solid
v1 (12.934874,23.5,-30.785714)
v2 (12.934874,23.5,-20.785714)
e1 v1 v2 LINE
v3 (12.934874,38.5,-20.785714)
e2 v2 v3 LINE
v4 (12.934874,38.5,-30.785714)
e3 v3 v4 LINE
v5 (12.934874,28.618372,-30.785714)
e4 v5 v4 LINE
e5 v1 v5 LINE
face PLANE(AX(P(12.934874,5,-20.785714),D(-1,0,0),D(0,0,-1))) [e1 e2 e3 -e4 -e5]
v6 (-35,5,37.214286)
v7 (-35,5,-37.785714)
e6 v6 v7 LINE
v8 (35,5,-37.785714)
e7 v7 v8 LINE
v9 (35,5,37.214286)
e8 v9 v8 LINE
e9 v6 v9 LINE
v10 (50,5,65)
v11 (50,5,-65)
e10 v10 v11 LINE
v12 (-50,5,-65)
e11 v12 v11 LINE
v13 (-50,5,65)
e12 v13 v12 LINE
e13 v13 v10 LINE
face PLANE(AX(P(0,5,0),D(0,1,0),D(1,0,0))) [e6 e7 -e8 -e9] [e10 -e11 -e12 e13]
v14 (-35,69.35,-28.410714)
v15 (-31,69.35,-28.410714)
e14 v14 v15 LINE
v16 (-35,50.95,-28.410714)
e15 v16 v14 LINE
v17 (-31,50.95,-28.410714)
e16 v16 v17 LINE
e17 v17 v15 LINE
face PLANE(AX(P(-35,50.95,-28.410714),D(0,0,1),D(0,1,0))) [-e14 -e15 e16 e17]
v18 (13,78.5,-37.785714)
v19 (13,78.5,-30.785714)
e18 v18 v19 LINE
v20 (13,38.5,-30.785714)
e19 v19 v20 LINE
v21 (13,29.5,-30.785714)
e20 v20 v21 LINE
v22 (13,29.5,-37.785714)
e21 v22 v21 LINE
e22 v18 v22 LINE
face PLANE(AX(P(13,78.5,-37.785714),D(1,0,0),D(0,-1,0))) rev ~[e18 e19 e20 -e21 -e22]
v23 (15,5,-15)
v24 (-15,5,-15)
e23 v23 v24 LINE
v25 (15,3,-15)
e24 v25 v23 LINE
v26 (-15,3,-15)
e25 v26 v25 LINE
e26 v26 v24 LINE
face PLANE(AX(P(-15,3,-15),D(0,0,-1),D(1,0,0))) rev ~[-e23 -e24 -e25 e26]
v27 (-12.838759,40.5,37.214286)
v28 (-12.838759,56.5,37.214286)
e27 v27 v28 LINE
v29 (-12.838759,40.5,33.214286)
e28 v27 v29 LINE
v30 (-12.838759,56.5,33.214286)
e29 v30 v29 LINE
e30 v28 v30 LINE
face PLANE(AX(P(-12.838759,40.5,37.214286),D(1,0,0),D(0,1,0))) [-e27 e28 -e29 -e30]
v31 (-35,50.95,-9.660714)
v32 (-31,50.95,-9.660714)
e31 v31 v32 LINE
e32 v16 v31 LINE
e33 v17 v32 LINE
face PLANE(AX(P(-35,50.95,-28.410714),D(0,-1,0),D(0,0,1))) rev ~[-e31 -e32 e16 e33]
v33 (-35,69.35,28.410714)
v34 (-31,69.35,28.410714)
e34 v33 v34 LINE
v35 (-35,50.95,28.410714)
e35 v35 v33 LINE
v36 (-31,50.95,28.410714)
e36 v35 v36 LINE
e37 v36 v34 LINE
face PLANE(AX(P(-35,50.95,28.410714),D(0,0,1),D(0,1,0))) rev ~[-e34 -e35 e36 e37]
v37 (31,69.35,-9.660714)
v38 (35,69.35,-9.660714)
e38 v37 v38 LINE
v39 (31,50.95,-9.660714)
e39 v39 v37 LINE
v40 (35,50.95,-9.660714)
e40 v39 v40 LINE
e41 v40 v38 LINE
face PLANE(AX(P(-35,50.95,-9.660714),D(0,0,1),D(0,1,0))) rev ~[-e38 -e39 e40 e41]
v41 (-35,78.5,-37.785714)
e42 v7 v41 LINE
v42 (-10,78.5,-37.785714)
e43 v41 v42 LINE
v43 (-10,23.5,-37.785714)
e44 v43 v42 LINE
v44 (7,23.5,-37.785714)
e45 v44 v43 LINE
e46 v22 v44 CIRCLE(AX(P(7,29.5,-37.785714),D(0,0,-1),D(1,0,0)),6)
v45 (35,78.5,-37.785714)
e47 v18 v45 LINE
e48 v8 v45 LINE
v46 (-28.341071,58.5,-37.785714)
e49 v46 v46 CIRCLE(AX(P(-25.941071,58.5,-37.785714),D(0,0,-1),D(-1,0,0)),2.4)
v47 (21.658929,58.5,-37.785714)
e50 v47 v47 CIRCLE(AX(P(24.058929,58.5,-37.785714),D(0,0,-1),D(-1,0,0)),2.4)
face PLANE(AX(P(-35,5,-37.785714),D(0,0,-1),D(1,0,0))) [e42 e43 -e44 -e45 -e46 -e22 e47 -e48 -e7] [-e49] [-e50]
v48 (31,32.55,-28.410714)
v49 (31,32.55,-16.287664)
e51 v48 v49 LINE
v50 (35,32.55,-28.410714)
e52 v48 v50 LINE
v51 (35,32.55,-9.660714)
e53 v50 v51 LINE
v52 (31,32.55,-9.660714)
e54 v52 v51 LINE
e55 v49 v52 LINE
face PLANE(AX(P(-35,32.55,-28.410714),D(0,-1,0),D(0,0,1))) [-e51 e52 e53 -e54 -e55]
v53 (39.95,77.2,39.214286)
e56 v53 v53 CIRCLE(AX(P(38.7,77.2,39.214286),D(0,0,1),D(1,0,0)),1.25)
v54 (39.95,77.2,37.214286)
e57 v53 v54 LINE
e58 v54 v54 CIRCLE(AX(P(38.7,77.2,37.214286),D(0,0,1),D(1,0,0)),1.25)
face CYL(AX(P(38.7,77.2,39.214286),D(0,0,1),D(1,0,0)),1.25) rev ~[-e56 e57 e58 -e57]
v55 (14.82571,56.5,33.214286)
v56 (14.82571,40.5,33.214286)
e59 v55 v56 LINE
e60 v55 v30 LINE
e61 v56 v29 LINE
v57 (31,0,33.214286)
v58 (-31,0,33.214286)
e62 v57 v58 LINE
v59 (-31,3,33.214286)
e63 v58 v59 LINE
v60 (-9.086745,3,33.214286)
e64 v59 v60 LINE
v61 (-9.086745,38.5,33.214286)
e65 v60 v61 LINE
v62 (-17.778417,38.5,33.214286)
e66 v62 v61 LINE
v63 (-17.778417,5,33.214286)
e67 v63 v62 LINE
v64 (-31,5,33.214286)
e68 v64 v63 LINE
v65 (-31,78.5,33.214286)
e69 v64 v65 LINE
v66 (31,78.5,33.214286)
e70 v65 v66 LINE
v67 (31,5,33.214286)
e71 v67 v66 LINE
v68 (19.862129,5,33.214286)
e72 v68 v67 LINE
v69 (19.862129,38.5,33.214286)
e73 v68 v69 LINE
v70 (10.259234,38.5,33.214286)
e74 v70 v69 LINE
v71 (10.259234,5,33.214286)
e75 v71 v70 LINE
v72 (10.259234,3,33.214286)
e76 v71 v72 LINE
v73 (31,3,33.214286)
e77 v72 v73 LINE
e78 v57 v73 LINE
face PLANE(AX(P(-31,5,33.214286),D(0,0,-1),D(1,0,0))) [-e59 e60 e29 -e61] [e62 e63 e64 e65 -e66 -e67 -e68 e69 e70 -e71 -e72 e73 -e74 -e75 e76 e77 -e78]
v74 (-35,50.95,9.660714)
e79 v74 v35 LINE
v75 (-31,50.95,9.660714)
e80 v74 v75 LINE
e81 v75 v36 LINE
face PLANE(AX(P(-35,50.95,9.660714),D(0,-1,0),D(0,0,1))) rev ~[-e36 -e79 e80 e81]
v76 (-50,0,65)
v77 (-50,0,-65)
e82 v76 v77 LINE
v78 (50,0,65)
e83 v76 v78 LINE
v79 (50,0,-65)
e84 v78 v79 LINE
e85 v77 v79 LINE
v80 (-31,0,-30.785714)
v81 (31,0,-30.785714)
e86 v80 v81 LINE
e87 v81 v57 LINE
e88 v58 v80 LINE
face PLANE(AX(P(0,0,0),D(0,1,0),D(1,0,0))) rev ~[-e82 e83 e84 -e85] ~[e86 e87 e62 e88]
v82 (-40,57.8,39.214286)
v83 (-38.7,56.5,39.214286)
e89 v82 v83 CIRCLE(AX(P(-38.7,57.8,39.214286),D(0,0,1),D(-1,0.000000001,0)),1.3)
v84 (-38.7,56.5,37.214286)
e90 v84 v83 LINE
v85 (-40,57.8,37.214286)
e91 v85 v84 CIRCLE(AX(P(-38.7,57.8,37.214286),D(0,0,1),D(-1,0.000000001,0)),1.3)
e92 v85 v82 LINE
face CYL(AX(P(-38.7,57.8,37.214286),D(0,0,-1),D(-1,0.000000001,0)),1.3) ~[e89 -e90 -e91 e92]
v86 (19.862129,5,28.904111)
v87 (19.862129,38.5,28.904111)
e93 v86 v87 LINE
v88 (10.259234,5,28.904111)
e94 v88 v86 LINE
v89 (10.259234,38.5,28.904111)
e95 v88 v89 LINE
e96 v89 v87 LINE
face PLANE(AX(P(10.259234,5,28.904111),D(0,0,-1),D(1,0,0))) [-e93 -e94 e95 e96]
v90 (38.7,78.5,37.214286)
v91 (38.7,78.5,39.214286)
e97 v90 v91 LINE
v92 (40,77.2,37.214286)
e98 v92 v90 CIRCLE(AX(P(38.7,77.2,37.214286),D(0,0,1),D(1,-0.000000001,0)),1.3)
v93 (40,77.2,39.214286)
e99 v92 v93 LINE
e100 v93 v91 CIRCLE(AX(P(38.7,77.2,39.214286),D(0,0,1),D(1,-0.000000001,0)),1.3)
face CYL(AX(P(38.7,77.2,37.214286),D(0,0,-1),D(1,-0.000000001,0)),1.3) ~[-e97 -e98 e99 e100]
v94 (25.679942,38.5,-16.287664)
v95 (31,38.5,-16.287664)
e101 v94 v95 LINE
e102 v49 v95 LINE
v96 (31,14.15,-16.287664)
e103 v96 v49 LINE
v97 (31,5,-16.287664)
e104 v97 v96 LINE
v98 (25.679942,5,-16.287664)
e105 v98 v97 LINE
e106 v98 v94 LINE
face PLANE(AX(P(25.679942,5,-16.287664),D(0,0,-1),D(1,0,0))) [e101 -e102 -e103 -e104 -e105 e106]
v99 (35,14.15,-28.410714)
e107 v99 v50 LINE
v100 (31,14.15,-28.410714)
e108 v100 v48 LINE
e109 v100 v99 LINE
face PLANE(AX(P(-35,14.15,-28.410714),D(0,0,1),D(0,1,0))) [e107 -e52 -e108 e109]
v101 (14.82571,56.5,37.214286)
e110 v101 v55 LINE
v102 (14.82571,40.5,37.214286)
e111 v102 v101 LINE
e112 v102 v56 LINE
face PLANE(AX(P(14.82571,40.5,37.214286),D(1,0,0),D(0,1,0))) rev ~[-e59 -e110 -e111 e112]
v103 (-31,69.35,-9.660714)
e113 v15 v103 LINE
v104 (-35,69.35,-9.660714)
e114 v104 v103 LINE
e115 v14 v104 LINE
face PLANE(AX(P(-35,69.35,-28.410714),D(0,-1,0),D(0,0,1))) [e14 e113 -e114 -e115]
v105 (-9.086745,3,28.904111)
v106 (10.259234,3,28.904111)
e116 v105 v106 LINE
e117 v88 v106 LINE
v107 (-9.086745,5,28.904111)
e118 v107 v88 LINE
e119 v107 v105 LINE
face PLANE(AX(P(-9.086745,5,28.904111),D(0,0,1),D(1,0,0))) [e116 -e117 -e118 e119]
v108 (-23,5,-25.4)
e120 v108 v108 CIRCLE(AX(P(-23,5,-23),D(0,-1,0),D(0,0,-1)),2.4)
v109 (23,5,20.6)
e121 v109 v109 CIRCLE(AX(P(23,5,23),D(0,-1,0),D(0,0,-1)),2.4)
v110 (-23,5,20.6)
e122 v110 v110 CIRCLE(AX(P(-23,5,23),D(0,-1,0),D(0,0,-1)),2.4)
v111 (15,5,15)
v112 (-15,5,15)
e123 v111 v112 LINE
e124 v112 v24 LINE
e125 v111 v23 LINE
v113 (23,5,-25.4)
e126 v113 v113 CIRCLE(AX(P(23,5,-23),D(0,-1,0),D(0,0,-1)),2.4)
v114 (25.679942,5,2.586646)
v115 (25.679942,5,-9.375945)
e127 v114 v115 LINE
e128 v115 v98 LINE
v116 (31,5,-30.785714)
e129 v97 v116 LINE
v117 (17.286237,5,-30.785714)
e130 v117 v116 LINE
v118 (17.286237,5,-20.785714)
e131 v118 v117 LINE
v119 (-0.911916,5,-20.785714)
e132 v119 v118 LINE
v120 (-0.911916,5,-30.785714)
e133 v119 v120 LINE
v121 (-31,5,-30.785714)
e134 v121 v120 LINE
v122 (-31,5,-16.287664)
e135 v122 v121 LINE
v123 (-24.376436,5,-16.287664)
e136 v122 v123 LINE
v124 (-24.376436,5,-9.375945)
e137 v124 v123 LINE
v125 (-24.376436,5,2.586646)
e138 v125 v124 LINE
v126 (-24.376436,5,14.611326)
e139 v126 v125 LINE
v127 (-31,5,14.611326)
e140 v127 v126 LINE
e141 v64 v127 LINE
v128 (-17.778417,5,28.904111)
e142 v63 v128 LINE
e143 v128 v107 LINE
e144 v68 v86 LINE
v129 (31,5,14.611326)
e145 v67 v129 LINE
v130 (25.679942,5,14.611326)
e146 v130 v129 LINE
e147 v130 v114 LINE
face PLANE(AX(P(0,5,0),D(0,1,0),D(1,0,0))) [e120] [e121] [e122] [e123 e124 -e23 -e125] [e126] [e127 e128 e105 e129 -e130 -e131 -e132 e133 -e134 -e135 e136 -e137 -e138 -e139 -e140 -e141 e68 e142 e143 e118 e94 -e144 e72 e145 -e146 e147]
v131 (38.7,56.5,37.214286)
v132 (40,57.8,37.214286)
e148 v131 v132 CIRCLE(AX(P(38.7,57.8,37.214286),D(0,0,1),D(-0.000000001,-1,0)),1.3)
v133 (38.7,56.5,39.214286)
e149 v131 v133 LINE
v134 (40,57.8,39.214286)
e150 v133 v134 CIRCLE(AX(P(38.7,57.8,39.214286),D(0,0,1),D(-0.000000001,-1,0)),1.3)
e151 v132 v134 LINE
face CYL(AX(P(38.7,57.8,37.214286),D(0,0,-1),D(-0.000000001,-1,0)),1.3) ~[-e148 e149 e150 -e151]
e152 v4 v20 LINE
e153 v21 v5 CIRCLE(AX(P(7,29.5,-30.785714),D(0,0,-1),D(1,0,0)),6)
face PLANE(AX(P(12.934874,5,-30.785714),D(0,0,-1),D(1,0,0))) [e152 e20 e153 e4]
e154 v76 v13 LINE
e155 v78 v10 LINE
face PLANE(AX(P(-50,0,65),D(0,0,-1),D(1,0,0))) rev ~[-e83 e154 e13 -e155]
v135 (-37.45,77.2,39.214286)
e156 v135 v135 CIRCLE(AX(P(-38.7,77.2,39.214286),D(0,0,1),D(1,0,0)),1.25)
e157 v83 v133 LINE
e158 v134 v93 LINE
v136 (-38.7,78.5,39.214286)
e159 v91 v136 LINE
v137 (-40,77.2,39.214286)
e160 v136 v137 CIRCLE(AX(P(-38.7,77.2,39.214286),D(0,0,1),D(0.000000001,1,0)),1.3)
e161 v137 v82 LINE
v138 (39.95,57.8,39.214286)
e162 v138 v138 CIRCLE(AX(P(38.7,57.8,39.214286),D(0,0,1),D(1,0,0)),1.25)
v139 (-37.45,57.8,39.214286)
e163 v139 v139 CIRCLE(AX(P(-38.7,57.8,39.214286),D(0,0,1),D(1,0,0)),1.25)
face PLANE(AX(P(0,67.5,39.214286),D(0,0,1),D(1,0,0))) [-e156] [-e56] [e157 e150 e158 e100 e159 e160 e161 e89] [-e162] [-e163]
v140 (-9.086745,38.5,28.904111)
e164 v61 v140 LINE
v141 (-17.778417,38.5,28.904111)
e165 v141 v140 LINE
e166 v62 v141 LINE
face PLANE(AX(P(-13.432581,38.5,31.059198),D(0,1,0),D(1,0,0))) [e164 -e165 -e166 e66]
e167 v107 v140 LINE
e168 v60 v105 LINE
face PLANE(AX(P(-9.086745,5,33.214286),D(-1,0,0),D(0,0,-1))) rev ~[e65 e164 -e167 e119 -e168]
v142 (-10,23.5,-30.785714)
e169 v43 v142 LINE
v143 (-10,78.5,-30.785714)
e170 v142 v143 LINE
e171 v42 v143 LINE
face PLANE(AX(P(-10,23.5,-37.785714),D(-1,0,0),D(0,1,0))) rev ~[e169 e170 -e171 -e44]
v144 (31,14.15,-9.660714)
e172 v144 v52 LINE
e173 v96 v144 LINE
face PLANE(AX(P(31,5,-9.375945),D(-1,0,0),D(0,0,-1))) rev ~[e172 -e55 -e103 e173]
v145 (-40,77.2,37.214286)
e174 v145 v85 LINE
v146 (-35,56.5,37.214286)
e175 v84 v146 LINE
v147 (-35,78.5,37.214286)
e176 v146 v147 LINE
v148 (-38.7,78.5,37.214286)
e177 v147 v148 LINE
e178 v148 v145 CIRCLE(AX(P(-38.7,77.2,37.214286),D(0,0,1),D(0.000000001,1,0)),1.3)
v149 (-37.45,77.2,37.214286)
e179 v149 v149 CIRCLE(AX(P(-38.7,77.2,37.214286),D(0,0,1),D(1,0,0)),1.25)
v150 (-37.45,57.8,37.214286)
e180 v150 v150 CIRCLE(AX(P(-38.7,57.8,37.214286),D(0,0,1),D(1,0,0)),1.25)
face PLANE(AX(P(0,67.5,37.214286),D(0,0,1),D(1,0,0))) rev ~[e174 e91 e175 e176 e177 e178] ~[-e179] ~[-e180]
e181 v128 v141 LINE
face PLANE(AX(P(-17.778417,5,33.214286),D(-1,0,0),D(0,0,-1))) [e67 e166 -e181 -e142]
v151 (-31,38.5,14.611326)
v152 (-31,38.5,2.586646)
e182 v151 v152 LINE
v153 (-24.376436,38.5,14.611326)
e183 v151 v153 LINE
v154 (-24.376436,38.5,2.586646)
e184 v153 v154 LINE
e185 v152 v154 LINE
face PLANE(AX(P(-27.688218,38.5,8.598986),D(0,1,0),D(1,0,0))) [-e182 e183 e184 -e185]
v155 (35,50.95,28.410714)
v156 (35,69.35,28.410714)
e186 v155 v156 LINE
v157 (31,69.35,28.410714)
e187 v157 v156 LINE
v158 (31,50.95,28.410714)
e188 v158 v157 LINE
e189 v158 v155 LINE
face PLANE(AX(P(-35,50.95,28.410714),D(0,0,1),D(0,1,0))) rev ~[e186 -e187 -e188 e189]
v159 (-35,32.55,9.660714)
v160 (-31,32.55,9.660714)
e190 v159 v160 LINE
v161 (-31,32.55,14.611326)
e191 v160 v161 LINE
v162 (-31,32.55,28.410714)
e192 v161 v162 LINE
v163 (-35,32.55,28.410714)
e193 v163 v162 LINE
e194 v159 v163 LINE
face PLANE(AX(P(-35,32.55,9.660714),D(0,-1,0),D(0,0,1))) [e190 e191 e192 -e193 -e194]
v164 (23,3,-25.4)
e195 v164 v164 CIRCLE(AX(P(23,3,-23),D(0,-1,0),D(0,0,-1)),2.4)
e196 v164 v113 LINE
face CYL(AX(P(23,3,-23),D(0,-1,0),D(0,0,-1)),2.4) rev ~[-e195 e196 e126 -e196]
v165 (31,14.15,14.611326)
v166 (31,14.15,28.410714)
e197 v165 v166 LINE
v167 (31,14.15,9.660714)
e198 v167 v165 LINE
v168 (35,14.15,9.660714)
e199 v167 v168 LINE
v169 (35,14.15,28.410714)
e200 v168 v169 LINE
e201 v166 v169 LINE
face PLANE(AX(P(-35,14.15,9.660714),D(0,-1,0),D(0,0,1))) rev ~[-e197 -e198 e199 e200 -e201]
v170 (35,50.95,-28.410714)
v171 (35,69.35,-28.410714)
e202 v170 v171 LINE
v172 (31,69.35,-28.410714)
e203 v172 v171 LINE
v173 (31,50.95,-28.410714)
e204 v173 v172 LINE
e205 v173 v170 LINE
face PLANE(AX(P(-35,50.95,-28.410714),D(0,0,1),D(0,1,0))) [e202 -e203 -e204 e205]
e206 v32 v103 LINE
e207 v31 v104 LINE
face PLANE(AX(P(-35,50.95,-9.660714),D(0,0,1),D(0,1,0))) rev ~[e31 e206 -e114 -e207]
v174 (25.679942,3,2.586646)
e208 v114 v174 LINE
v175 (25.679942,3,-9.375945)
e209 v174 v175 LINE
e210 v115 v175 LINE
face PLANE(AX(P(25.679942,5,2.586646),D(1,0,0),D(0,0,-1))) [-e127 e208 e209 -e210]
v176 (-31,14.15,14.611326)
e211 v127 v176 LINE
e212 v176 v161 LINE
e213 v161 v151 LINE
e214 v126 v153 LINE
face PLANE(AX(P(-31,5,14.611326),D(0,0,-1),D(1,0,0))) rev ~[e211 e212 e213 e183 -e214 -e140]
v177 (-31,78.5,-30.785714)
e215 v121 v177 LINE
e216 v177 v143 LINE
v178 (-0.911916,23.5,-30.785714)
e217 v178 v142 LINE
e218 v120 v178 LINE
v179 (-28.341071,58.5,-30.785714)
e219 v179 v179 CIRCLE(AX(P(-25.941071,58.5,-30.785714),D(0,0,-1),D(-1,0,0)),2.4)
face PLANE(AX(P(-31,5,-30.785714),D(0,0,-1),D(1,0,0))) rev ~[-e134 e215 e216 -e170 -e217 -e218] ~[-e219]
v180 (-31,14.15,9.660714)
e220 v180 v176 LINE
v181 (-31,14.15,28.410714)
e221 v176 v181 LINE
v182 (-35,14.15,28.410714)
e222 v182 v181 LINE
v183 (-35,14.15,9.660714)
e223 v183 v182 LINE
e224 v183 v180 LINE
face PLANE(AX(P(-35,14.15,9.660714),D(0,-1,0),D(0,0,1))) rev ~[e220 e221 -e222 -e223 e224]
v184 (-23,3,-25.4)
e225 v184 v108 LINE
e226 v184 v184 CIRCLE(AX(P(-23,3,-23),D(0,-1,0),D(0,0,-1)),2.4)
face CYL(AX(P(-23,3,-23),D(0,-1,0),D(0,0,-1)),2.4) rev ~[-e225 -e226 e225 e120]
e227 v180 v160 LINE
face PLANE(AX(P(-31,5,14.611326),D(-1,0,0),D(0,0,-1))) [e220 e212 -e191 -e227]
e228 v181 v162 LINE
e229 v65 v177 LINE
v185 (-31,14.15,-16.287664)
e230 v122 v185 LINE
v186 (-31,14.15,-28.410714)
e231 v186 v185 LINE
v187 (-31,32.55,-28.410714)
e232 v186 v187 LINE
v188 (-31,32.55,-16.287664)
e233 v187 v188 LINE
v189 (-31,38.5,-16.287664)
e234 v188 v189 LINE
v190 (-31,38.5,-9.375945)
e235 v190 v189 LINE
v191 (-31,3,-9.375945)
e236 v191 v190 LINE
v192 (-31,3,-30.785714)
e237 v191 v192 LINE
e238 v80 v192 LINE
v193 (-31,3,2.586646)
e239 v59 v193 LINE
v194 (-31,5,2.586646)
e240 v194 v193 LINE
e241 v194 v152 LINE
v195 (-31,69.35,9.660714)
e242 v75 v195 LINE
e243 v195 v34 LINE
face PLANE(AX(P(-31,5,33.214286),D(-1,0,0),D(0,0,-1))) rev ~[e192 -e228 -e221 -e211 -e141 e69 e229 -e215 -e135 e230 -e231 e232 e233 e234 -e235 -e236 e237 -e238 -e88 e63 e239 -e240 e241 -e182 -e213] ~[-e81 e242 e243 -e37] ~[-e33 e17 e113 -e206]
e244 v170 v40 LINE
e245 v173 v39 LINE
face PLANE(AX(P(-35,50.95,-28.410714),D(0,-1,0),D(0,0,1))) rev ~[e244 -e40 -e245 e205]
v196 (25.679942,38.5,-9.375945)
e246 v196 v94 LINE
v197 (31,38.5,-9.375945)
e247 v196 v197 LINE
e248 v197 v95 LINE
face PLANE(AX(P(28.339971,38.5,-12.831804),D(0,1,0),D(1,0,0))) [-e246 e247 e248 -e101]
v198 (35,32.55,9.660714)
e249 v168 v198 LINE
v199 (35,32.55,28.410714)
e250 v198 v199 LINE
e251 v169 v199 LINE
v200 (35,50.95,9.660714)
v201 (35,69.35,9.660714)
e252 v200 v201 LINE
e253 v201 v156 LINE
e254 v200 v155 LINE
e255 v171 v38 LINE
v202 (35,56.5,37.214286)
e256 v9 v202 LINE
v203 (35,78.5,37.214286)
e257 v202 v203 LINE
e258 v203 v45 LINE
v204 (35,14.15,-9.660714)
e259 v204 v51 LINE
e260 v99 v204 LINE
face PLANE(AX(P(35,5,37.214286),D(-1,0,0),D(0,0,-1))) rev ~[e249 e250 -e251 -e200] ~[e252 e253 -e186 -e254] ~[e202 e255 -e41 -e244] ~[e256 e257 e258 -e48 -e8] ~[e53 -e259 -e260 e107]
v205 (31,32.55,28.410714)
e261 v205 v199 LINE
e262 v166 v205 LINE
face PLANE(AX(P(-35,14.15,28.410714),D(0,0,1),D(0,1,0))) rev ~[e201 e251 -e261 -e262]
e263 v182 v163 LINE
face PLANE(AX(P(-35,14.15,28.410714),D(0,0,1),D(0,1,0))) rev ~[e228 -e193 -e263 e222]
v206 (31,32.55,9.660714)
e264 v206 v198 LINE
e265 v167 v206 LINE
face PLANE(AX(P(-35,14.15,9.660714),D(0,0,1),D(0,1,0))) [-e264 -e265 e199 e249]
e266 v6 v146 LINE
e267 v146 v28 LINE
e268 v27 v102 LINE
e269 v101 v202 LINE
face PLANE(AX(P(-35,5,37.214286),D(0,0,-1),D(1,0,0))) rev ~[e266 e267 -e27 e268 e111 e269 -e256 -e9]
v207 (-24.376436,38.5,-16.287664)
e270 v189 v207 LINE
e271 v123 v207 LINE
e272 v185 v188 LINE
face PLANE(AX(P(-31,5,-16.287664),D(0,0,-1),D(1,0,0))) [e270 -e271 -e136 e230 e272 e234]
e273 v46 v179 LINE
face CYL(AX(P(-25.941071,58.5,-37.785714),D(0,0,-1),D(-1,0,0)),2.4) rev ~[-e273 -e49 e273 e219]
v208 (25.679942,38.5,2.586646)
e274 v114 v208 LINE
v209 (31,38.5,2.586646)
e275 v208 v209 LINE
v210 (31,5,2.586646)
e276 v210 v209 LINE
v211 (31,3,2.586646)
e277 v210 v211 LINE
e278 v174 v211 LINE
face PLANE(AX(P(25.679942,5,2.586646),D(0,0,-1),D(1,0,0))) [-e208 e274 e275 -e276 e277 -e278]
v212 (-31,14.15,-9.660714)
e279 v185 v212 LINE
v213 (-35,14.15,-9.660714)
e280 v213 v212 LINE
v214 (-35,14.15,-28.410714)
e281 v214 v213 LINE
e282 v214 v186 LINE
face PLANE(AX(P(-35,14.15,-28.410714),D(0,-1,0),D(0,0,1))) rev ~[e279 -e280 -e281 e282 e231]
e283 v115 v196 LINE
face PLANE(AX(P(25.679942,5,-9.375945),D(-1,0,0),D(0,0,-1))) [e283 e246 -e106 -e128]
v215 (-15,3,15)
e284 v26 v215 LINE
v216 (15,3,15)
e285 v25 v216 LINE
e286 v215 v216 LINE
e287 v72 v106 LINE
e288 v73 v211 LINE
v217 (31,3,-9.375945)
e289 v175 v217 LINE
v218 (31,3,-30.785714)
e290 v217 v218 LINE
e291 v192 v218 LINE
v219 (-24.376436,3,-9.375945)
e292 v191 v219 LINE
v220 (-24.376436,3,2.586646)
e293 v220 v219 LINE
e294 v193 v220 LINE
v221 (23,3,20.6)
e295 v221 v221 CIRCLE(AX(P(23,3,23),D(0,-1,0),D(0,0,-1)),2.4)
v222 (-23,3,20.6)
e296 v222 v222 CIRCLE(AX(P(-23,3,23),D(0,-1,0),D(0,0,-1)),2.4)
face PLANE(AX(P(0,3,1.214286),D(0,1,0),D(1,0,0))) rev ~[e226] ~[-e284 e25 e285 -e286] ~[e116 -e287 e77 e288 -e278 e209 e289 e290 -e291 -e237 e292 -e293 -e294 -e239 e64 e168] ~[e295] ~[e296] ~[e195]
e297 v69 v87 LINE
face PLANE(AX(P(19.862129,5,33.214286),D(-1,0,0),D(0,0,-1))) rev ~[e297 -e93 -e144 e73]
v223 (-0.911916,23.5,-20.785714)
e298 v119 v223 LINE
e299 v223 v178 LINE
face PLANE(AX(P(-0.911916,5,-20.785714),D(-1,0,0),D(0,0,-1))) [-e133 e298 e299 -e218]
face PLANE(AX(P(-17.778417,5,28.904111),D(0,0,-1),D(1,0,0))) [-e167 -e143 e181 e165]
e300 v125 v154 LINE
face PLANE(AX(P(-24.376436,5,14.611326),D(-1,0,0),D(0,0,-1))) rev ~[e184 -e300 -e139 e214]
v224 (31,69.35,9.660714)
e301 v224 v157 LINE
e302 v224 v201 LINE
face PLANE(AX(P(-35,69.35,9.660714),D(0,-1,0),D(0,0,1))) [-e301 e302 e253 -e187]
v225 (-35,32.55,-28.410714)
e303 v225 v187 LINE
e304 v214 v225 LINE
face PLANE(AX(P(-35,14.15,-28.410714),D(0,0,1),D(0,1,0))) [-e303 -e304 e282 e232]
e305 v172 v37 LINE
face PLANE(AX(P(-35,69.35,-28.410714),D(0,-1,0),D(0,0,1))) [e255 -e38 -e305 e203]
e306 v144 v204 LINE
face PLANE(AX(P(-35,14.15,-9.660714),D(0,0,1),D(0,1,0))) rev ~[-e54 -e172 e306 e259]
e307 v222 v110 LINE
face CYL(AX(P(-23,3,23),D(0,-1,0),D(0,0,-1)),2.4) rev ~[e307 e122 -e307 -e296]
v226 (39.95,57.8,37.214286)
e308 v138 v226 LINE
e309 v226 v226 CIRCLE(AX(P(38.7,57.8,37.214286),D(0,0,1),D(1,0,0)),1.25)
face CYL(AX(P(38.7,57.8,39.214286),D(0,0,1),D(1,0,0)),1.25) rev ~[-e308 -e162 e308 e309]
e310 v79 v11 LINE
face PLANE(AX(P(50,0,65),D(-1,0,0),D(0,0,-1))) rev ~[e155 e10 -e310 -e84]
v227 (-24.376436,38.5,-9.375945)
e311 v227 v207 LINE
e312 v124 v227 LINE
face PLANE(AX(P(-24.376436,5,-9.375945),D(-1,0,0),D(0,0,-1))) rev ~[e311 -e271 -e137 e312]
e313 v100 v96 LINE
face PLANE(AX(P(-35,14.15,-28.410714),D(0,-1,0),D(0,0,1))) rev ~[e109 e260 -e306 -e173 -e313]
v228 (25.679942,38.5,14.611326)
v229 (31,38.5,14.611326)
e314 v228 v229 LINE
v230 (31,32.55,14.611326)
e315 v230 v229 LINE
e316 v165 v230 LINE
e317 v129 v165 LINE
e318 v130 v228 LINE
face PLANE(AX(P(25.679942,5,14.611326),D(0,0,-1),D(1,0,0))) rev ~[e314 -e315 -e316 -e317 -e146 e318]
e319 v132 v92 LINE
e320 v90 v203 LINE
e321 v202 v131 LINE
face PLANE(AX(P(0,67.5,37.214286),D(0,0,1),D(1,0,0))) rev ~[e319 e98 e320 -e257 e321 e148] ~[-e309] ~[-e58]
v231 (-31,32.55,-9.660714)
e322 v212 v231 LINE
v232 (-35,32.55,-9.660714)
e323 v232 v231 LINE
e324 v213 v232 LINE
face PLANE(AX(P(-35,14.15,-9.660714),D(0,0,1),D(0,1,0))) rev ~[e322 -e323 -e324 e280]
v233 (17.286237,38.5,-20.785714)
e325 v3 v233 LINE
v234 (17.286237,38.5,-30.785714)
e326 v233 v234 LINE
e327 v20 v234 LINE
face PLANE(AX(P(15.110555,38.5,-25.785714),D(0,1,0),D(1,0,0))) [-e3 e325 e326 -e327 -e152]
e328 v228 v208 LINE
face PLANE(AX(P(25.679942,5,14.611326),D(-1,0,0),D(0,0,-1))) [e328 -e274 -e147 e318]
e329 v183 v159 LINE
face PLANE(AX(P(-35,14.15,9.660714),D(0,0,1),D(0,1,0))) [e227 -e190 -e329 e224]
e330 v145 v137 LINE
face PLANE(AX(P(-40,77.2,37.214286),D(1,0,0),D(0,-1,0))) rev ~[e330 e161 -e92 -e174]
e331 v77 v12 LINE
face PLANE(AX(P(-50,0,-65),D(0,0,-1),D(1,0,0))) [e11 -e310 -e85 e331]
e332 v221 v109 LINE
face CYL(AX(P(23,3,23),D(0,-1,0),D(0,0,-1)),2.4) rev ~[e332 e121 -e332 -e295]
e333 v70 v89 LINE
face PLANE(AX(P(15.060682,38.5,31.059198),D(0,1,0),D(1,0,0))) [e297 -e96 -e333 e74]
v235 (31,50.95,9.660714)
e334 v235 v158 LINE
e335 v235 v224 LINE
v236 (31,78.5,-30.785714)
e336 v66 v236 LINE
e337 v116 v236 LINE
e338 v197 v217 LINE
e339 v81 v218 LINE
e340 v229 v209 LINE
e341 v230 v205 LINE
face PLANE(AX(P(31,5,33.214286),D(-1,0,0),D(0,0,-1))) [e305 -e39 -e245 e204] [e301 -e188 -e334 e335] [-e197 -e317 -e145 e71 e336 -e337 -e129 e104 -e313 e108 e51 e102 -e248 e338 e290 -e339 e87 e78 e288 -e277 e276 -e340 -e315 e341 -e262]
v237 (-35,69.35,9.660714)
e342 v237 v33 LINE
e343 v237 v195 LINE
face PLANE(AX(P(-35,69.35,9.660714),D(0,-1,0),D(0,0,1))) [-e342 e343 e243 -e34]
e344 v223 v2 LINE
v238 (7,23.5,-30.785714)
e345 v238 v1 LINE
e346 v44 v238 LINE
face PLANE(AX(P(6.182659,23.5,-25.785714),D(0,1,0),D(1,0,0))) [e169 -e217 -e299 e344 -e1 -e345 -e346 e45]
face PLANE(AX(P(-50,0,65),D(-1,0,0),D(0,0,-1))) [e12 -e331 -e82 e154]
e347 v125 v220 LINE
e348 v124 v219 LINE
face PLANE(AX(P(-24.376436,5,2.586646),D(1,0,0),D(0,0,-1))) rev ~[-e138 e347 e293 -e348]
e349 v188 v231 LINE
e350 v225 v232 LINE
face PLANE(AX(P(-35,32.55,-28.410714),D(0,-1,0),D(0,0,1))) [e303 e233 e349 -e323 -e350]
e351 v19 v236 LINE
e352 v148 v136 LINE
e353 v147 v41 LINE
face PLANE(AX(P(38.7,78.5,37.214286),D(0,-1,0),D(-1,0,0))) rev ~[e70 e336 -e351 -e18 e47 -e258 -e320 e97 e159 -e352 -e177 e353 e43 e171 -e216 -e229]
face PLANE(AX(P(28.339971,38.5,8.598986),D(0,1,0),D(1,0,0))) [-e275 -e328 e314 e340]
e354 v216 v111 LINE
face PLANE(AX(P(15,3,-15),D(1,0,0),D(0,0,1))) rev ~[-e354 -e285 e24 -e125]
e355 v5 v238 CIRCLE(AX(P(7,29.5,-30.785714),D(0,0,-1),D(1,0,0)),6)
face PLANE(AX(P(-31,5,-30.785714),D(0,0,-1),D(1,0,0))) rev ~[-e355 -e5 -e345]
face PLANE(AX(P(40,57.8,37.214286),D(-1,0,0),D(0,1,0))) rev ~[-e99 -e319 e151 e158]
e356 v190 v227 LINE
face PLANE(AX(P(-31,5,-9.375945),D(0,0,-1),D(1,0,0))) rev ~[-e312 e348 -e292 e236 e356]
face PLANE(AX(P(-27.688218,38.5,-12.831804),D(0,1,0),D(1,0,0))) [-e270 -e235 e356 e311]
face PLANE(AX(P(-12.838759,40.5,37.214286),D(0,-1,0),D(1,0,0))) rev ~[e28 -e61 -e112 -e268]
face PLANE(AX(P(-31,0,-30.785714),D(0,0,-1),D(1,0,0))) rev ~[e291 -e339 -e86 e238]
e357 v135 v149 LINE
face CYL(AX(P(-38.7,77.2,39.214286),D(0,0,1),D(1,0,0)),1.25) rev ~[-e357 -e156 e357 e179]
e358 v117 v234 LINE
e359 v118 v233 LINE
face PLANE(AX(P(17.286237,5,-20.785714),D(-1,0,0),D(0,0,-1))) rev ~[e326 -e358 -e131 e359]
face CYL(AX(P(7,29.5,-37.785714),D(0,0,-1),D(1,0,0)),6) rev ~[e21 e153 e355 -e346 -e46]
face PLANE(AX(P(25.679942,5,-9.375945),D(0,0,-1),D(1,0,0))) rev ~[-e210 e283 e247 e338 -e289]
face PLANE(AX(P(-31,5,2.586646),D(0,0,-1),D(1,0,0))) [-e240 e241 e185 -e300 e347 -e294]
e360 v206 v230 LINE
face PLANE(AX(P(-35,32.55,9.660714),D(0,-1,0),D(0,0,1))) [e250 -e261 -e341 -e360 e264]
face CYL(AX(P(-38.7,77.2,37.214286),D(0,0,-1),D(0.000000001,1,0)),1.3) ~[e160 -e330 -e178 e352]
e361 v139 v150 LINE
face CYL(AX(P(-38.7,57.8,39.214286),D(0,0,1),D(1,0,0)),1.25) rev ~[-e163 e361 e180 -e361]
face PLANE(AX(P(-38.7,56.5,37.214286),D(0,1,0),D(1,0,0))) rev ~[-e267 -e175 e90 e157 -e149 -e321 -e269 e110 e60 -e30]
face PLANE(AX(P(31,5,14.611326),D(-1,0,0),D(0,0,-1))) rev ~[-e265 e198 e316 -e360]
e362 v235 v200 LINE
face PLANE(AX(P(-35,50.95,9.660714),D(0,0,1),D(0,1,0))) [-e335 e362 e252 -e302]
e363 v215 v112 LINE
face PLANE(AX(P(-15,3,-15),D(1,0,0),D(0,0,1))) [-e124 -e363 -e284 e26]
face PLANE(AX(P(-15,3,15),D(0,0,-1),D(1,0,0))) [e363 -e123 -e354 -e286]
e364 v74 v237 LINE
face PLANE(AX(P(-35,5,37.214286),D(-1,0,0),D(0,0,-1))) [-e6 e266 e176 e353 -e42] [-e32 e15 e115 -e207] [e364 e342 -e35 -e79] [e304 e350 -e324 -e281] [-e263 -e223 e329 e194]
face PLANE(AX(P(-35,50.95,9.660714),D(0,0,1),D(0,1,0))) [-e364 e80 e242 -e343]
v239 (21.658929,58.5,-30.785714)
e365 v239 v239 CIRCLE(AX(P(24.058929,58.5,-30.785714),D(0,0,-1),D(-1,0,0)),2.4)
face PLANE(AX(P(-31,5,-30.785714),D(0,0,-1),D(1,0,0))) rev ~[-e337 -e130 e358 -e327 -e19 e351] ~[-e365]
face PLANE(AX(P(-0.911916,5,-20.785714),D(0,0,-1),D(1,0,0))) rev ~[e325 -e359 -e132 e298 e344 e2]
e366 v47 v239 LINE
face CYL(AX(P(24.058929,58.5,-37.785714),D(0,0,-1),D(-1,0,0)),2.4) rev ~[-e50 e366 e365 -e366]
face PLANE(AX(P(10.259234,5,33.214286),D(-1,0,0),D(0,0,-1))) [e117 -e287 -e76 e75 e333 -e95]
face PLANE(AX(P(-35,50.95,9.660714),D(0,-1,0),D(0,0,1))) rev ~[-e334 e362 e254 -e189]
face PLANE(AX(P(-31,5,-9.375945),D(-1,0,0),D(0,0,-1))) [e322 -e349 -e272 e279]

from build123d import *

# Parameters (mm, degrees)
SKETCH_1_W           = 100
SKETCH_1_H           = 130
EXTRUDE_1_DEPTH      = 5
SKETCH_2_W           = 70
SKETCH_2_H           = 75
SKETCH_2_W_2         = 62
SKETCH_2_H_2         = 64
EXTRUDE_2_DEPTH      = 73.5
SKETCH_3_W           = 18.75
SKETCH_3_H           = 18.4
CUT_EXTRUDE_1_DEPTH  = 133.711152508
CUT_EXTRUDE_2_DEPTH  = 10
SKETCH_7_W           = 62
SKETCH_7_H           = 64
CUT_EXTRUDE_3_DEPTH  = 3
SKETCH_8_W           = 30
SKETCH_8_H           = 30
CUT_EXTRUDE_4_DEPTH  = 3
SKETCH_9_R           = 2.4
CUT_EXTRUDE_5_DEPTH  = 112.468605446
SKETCH_11_W          = 14.189150171
SKETCH_11_H          = 10
EXTRUDE_3_DEPTH      = 18.5
SKETCH_12_W          = 4.351362518
SKETCH_12_H          = 10
EXTRUDE_4_DEPTH      = 33.5
SKETCH_13_W          = 6.623564314
SKETCH_13_H          = 6.911719061
SKETCH_13_H_2        = 12.024680345
SKETCH_13_W_2        = 5.320058298
SKETCH_13_W_3        = 8.691671684
SKETCH_13_H_3        = 4.310174588
SKETCH_13_W_4        = 9.602895329
EXTRUDE_5_DEPTH      = 33.5
SKETCH_14_R          = 2.4
CUT_EXTRUDE_6_DEPTH  = 40
EXTRUDE_8_DEPTH      = 2
SKETCH_21_R          = 1.25
CUT_EXTRUDE_9_DEPTH  = 2
SKETCH_22_W          = 27.664468573
SKETCH_22_H          = 16
CUT_EXTRUDE_10_DEPTH = 5
SKETCH_23_W          = 6.623564314
SKETCH_23_H          = 11.962590683
SKETCH_23_W_2        = 19.34597891
SKETCH_23_H_2        = 4.310174588
SKETCH_23_W_3        = 5.320058298
CUT_EXTRUDE_11_DEPTH = 111.123793978


with BuildPart() as part:
    # 草图1 → 凸台-拉伸1 (new body)
    with BuildSketch(Plane(origin=(0, 0, 0), x_dir=(1, 0, 0), z_dir=(0, 1, 0))):
        Rectangle(SKETCH_1_W, SKETCH_1_H)
    extrude(amount=EXTRUDE_1_DEPTH)

    # 草图2 → 凸台-拉伸2 (add)
    with BuildSketch(Plane(origin=(0, 5, 0), x_dir=(1, 0, 0), z_dir=(0, 1, 0))):
        with Locations((0, 0.285714286)):
            Rectangle(SKETCH_2_W, SKETCH_2_H)
        with Locations((0, -1.214285714)):
            Rectangle(SKETCH_2_W_2, SKETCH_2_H_2, mode=Mode.SUBTRACT)
    extrude(amount=EXTRUDE_2_DEPTH)

    # 草图3 → 切除-拉伸1 (cut, through all)
    with BuildSketch(Plane.ZY.offset(35)):
        with Locations((-19.035714286, 60.15)):
            Rectangle(SKETCH_3_W, SKETCH_3_H)
        with Locations((19.035714286, 60.15)):
            Rectangle(SKETCH_3_W, SKETCH_3_H)
        with Locations((19.035714286, 23.35)):
            Rectangle(SKETCH_3_W, SKETCH_3_H)
        with Locations((-19.035714286, 23.35)):
            Rectangle(SKETCH_3_W, SKETCH_3_H)
    extrude(amount=-CUT_EXTRUDE_1_DEPTH, mode=Mode.SUBTRACT)

    # 草图4 → 切除-拉伸2 (cut)
    with BuildSketch(Plane(origin=(0, 0, -37.785714286), x_dir=(-1, 0, 0), z_dir=(0, 0, -1))):
        with BuildLine():
            Line((-13, 78.5), (-13, 35.5))
            Line((-13, 35.5), (-13, 29.5))
            ThreePointArc((-13, 29.5), (-11.242640687, 25.257359313), (-7, 23.5))
            Line((-7, 23.5), (10, 23.5))
            Line((10, 23.5), (10, 78.5))
            Line((10, 78.5), (-13, 78.5))
        make_face()
    extrude(amount=-CUT_EXTRUDE_2_DEPTH, mode=Mode.SUBTRACT)

    # 草图7 → 切除-拉伸3 (cut)
    with BuildSketch(Plane(origin=(0, 0, 0), x_dir=(1, 0, 0), z_dir=(0, 1, 0))):
        with Locations((0, -1.214285714)):
            Rectangle(SKETCH_7_W, SKETCH_7_H)
    extrude(amount=CUT_EXTRUDE_3_DEPTH, mode=Mode.SUBTRACT)

    # 草图8 → 切除-拉伸4 (cut)
    with BuildSketch(Plane.XZ.offset(-3)):
        Rectangle(SKETCH_8_W, SKETCH_8_H)
    extrude(amount=-CUT_EXTRUDE_4_DEPTH, mode=Mode.SUBTRACT)

    # 草图9 → 切除-拉伸5 (cut, through all)
    with BuildSketch(Plane.XZ.offset(-3)):
        with Locations(Location((-23, -23, 0), (0, 0, 270))):
            Circle(SKETCH_9_R)
        with Locations(Location((23, -23, 0), (0, 0, 270))):
            Circle(SKETCH_9_R)
        with Locations(Location((23, 23, 0), (0, 0, 270))):
            Circle(SKETCH_9_R)
        with Locations(Location((-23, 23, 0), (0, 0, 270))):
            Circle(SKETCH_9_R)
    extrude(amount=-CUT_EXTRUDE_5_DEPTH, mode=Mode.SUBTRACT)

    # 草图11 → 凸台-拉伸3 (add)
    with BuildSketch(Plane(origin=(0, 5, 0), x_dir=(1, 0, 0), z_dir=(0, 1, 0))):
        with Locations((6.182659264, 25.785714286)):
            Rectangle(SKETCH_11_W, SKETCH_11_H)
    extrude(amount=EXTRUDE_3_DEPTH)

    # 草图12 → 凸台-拉伸4 (add)
    with BuildSketch(Plane(origin=(0, 5, 0), x_dir=(1, 0, 0), z_dir=(0, 1, 0))):
        with Locations((15.110555439, 25.785714286)):
            Rectangle(SKETCH_12_W, SKETCH_12_H)
    extrude(amount=EXTRUDE_4_DEPTH)

    # 草图13 → 凸台-拉伸5 (add)
    with BuildSketch(Plane(origin=(0, 5, 0), x_dir=(1, 0, 0), z_dir=(0, 1, 0))):
        with Locations((-27.688217843, 12.831804422)):
            Rectangle(SKETCH_13_W, SKETCH_13_H)
        with Locations((-27.688217843, -8.598985965)):
            Rectangle(SKETCH_13_W, SKETCH_13_H_2)
        with Locations((28.339970851, 12.831804422)):
            Rectangle(SKETCH_13_W_2, SKETCH_13_H)
        with Locations((28.339970851, -8.598985965)):
            Rectangle(SKETCH_13_W_2, SKETCH_13_H_2)
        with Locations((-13.432580878, -31.05919842)):
            Rectangle(SKETCH_13_W_3, SKETCH_13_H_3)
        with Locations((15.060681539, -31.05919842)):
            Rectangle(SKETCH_13_W_4, SKETCH_13_H_3)
    extrude(amount=EXTRUDE_5_DEPTH)

    # 草图14 → 切除-拉伸6 (cut)
    with BuildSketch(Plane(origin=(0, 0, -37.785714286), x_dir=(-1, 0, 0), z_dir=(0, 0, -1))):
        with Locations((-24.05892938, 58.5)):
            Circle(SKETCH_14_R)
        with Locations((25.94107062, 58.5)):
            Circle(SKETCH_14_R)
    extrude(amount=-CUT_EXTRUDE_6_DEPTH, mode=Mode.SUBTRACT)

    # 草图20 → 凸台-拉伸8 (add)
    with BuildSketch(Plane.XY.offset(37.214285714)):
        with BuildLine():
            Line((-38.7, 56.5), (38.7, 56.5))
            ThreePointArc((38.7, 56.5), (39.619238816, 56.880761184), (40, 57.8))
            Line((40, 57.8), (40, 77.2))
            ThreePointArc((40, 77.2), (39.619238816, 78.119238816), (38.7, 78.5))
            Line((38.7, 78.5), (-38.7, 78.5))
            ThreePointArc((-38.7, 78.5), (-39.619238816, 78.119238816), (-40, 77.2))
            Line((-40, 77.2), (-40, 57.8))
            ThreePointArc((-40, 57.8), (-39.619238816, 56.880761184), (-38.7, 56.5))
        make_face()
    extrude(amount=EXTRUDE_8_DEPTH)

    # 草图21 → 切除-拉伸9 (cut)
    with BuildSketch(Plane.XY.offset(39.214285714)):
        with Locations((-38.7, 77.2)):
            Circle(SKETCH_21_R)
        with Locations((-38.7, 57.8)):
            Circle(SKETCH_21_R)
        with Locations((38.7, 77.2)):
            Circle(SKETCH_21_R)
        with Locations((38.7, 57.8)):
            Circle(SKETCH_21_R)
    extrude(amount=-CUT_EXTRUDE_9_DEPTH, mode=Mode.SUBTRACT)

    # 草图22 → 切除-拉伸10 (cut)
    with BuildSketch(Plane.XY.offset(37.214285714)):
        with Locations((0.99347539, 48.5)):
            Rectangle(SKETCH_22_W, SKETCH_22_H)
    extrude(amount=-CUT_EXTRUDE_10_DEPTH, mode=Mode.SUBTRACT)

    # 草图23 → 切除-拉伸11 (cut, through all)
    with BuildSketch(Plane(origin=(0, 5, 0), x_dir=(1, 0, 0), z_dir=(0, 1, 0))):
        with Locations((-27.688217843, 3.39464955)):
            Rectangle(SKETCH_23_W, SKETCH_23_H)
        with Locations((0.586244419, -31.05919842)):
            Rectangle(SKETCH_23_W_2, SKETCH_23_H_2)
        with Locations((28.339970851, 3.39464955)):
            Rectangle(SKETCH_23_W_3, SKETCH_23_H)
    extrude(amount=-CUT_EXTRUDE_11_DEPTH, mode=Mode.SUBTRACT)


solid = part.part
